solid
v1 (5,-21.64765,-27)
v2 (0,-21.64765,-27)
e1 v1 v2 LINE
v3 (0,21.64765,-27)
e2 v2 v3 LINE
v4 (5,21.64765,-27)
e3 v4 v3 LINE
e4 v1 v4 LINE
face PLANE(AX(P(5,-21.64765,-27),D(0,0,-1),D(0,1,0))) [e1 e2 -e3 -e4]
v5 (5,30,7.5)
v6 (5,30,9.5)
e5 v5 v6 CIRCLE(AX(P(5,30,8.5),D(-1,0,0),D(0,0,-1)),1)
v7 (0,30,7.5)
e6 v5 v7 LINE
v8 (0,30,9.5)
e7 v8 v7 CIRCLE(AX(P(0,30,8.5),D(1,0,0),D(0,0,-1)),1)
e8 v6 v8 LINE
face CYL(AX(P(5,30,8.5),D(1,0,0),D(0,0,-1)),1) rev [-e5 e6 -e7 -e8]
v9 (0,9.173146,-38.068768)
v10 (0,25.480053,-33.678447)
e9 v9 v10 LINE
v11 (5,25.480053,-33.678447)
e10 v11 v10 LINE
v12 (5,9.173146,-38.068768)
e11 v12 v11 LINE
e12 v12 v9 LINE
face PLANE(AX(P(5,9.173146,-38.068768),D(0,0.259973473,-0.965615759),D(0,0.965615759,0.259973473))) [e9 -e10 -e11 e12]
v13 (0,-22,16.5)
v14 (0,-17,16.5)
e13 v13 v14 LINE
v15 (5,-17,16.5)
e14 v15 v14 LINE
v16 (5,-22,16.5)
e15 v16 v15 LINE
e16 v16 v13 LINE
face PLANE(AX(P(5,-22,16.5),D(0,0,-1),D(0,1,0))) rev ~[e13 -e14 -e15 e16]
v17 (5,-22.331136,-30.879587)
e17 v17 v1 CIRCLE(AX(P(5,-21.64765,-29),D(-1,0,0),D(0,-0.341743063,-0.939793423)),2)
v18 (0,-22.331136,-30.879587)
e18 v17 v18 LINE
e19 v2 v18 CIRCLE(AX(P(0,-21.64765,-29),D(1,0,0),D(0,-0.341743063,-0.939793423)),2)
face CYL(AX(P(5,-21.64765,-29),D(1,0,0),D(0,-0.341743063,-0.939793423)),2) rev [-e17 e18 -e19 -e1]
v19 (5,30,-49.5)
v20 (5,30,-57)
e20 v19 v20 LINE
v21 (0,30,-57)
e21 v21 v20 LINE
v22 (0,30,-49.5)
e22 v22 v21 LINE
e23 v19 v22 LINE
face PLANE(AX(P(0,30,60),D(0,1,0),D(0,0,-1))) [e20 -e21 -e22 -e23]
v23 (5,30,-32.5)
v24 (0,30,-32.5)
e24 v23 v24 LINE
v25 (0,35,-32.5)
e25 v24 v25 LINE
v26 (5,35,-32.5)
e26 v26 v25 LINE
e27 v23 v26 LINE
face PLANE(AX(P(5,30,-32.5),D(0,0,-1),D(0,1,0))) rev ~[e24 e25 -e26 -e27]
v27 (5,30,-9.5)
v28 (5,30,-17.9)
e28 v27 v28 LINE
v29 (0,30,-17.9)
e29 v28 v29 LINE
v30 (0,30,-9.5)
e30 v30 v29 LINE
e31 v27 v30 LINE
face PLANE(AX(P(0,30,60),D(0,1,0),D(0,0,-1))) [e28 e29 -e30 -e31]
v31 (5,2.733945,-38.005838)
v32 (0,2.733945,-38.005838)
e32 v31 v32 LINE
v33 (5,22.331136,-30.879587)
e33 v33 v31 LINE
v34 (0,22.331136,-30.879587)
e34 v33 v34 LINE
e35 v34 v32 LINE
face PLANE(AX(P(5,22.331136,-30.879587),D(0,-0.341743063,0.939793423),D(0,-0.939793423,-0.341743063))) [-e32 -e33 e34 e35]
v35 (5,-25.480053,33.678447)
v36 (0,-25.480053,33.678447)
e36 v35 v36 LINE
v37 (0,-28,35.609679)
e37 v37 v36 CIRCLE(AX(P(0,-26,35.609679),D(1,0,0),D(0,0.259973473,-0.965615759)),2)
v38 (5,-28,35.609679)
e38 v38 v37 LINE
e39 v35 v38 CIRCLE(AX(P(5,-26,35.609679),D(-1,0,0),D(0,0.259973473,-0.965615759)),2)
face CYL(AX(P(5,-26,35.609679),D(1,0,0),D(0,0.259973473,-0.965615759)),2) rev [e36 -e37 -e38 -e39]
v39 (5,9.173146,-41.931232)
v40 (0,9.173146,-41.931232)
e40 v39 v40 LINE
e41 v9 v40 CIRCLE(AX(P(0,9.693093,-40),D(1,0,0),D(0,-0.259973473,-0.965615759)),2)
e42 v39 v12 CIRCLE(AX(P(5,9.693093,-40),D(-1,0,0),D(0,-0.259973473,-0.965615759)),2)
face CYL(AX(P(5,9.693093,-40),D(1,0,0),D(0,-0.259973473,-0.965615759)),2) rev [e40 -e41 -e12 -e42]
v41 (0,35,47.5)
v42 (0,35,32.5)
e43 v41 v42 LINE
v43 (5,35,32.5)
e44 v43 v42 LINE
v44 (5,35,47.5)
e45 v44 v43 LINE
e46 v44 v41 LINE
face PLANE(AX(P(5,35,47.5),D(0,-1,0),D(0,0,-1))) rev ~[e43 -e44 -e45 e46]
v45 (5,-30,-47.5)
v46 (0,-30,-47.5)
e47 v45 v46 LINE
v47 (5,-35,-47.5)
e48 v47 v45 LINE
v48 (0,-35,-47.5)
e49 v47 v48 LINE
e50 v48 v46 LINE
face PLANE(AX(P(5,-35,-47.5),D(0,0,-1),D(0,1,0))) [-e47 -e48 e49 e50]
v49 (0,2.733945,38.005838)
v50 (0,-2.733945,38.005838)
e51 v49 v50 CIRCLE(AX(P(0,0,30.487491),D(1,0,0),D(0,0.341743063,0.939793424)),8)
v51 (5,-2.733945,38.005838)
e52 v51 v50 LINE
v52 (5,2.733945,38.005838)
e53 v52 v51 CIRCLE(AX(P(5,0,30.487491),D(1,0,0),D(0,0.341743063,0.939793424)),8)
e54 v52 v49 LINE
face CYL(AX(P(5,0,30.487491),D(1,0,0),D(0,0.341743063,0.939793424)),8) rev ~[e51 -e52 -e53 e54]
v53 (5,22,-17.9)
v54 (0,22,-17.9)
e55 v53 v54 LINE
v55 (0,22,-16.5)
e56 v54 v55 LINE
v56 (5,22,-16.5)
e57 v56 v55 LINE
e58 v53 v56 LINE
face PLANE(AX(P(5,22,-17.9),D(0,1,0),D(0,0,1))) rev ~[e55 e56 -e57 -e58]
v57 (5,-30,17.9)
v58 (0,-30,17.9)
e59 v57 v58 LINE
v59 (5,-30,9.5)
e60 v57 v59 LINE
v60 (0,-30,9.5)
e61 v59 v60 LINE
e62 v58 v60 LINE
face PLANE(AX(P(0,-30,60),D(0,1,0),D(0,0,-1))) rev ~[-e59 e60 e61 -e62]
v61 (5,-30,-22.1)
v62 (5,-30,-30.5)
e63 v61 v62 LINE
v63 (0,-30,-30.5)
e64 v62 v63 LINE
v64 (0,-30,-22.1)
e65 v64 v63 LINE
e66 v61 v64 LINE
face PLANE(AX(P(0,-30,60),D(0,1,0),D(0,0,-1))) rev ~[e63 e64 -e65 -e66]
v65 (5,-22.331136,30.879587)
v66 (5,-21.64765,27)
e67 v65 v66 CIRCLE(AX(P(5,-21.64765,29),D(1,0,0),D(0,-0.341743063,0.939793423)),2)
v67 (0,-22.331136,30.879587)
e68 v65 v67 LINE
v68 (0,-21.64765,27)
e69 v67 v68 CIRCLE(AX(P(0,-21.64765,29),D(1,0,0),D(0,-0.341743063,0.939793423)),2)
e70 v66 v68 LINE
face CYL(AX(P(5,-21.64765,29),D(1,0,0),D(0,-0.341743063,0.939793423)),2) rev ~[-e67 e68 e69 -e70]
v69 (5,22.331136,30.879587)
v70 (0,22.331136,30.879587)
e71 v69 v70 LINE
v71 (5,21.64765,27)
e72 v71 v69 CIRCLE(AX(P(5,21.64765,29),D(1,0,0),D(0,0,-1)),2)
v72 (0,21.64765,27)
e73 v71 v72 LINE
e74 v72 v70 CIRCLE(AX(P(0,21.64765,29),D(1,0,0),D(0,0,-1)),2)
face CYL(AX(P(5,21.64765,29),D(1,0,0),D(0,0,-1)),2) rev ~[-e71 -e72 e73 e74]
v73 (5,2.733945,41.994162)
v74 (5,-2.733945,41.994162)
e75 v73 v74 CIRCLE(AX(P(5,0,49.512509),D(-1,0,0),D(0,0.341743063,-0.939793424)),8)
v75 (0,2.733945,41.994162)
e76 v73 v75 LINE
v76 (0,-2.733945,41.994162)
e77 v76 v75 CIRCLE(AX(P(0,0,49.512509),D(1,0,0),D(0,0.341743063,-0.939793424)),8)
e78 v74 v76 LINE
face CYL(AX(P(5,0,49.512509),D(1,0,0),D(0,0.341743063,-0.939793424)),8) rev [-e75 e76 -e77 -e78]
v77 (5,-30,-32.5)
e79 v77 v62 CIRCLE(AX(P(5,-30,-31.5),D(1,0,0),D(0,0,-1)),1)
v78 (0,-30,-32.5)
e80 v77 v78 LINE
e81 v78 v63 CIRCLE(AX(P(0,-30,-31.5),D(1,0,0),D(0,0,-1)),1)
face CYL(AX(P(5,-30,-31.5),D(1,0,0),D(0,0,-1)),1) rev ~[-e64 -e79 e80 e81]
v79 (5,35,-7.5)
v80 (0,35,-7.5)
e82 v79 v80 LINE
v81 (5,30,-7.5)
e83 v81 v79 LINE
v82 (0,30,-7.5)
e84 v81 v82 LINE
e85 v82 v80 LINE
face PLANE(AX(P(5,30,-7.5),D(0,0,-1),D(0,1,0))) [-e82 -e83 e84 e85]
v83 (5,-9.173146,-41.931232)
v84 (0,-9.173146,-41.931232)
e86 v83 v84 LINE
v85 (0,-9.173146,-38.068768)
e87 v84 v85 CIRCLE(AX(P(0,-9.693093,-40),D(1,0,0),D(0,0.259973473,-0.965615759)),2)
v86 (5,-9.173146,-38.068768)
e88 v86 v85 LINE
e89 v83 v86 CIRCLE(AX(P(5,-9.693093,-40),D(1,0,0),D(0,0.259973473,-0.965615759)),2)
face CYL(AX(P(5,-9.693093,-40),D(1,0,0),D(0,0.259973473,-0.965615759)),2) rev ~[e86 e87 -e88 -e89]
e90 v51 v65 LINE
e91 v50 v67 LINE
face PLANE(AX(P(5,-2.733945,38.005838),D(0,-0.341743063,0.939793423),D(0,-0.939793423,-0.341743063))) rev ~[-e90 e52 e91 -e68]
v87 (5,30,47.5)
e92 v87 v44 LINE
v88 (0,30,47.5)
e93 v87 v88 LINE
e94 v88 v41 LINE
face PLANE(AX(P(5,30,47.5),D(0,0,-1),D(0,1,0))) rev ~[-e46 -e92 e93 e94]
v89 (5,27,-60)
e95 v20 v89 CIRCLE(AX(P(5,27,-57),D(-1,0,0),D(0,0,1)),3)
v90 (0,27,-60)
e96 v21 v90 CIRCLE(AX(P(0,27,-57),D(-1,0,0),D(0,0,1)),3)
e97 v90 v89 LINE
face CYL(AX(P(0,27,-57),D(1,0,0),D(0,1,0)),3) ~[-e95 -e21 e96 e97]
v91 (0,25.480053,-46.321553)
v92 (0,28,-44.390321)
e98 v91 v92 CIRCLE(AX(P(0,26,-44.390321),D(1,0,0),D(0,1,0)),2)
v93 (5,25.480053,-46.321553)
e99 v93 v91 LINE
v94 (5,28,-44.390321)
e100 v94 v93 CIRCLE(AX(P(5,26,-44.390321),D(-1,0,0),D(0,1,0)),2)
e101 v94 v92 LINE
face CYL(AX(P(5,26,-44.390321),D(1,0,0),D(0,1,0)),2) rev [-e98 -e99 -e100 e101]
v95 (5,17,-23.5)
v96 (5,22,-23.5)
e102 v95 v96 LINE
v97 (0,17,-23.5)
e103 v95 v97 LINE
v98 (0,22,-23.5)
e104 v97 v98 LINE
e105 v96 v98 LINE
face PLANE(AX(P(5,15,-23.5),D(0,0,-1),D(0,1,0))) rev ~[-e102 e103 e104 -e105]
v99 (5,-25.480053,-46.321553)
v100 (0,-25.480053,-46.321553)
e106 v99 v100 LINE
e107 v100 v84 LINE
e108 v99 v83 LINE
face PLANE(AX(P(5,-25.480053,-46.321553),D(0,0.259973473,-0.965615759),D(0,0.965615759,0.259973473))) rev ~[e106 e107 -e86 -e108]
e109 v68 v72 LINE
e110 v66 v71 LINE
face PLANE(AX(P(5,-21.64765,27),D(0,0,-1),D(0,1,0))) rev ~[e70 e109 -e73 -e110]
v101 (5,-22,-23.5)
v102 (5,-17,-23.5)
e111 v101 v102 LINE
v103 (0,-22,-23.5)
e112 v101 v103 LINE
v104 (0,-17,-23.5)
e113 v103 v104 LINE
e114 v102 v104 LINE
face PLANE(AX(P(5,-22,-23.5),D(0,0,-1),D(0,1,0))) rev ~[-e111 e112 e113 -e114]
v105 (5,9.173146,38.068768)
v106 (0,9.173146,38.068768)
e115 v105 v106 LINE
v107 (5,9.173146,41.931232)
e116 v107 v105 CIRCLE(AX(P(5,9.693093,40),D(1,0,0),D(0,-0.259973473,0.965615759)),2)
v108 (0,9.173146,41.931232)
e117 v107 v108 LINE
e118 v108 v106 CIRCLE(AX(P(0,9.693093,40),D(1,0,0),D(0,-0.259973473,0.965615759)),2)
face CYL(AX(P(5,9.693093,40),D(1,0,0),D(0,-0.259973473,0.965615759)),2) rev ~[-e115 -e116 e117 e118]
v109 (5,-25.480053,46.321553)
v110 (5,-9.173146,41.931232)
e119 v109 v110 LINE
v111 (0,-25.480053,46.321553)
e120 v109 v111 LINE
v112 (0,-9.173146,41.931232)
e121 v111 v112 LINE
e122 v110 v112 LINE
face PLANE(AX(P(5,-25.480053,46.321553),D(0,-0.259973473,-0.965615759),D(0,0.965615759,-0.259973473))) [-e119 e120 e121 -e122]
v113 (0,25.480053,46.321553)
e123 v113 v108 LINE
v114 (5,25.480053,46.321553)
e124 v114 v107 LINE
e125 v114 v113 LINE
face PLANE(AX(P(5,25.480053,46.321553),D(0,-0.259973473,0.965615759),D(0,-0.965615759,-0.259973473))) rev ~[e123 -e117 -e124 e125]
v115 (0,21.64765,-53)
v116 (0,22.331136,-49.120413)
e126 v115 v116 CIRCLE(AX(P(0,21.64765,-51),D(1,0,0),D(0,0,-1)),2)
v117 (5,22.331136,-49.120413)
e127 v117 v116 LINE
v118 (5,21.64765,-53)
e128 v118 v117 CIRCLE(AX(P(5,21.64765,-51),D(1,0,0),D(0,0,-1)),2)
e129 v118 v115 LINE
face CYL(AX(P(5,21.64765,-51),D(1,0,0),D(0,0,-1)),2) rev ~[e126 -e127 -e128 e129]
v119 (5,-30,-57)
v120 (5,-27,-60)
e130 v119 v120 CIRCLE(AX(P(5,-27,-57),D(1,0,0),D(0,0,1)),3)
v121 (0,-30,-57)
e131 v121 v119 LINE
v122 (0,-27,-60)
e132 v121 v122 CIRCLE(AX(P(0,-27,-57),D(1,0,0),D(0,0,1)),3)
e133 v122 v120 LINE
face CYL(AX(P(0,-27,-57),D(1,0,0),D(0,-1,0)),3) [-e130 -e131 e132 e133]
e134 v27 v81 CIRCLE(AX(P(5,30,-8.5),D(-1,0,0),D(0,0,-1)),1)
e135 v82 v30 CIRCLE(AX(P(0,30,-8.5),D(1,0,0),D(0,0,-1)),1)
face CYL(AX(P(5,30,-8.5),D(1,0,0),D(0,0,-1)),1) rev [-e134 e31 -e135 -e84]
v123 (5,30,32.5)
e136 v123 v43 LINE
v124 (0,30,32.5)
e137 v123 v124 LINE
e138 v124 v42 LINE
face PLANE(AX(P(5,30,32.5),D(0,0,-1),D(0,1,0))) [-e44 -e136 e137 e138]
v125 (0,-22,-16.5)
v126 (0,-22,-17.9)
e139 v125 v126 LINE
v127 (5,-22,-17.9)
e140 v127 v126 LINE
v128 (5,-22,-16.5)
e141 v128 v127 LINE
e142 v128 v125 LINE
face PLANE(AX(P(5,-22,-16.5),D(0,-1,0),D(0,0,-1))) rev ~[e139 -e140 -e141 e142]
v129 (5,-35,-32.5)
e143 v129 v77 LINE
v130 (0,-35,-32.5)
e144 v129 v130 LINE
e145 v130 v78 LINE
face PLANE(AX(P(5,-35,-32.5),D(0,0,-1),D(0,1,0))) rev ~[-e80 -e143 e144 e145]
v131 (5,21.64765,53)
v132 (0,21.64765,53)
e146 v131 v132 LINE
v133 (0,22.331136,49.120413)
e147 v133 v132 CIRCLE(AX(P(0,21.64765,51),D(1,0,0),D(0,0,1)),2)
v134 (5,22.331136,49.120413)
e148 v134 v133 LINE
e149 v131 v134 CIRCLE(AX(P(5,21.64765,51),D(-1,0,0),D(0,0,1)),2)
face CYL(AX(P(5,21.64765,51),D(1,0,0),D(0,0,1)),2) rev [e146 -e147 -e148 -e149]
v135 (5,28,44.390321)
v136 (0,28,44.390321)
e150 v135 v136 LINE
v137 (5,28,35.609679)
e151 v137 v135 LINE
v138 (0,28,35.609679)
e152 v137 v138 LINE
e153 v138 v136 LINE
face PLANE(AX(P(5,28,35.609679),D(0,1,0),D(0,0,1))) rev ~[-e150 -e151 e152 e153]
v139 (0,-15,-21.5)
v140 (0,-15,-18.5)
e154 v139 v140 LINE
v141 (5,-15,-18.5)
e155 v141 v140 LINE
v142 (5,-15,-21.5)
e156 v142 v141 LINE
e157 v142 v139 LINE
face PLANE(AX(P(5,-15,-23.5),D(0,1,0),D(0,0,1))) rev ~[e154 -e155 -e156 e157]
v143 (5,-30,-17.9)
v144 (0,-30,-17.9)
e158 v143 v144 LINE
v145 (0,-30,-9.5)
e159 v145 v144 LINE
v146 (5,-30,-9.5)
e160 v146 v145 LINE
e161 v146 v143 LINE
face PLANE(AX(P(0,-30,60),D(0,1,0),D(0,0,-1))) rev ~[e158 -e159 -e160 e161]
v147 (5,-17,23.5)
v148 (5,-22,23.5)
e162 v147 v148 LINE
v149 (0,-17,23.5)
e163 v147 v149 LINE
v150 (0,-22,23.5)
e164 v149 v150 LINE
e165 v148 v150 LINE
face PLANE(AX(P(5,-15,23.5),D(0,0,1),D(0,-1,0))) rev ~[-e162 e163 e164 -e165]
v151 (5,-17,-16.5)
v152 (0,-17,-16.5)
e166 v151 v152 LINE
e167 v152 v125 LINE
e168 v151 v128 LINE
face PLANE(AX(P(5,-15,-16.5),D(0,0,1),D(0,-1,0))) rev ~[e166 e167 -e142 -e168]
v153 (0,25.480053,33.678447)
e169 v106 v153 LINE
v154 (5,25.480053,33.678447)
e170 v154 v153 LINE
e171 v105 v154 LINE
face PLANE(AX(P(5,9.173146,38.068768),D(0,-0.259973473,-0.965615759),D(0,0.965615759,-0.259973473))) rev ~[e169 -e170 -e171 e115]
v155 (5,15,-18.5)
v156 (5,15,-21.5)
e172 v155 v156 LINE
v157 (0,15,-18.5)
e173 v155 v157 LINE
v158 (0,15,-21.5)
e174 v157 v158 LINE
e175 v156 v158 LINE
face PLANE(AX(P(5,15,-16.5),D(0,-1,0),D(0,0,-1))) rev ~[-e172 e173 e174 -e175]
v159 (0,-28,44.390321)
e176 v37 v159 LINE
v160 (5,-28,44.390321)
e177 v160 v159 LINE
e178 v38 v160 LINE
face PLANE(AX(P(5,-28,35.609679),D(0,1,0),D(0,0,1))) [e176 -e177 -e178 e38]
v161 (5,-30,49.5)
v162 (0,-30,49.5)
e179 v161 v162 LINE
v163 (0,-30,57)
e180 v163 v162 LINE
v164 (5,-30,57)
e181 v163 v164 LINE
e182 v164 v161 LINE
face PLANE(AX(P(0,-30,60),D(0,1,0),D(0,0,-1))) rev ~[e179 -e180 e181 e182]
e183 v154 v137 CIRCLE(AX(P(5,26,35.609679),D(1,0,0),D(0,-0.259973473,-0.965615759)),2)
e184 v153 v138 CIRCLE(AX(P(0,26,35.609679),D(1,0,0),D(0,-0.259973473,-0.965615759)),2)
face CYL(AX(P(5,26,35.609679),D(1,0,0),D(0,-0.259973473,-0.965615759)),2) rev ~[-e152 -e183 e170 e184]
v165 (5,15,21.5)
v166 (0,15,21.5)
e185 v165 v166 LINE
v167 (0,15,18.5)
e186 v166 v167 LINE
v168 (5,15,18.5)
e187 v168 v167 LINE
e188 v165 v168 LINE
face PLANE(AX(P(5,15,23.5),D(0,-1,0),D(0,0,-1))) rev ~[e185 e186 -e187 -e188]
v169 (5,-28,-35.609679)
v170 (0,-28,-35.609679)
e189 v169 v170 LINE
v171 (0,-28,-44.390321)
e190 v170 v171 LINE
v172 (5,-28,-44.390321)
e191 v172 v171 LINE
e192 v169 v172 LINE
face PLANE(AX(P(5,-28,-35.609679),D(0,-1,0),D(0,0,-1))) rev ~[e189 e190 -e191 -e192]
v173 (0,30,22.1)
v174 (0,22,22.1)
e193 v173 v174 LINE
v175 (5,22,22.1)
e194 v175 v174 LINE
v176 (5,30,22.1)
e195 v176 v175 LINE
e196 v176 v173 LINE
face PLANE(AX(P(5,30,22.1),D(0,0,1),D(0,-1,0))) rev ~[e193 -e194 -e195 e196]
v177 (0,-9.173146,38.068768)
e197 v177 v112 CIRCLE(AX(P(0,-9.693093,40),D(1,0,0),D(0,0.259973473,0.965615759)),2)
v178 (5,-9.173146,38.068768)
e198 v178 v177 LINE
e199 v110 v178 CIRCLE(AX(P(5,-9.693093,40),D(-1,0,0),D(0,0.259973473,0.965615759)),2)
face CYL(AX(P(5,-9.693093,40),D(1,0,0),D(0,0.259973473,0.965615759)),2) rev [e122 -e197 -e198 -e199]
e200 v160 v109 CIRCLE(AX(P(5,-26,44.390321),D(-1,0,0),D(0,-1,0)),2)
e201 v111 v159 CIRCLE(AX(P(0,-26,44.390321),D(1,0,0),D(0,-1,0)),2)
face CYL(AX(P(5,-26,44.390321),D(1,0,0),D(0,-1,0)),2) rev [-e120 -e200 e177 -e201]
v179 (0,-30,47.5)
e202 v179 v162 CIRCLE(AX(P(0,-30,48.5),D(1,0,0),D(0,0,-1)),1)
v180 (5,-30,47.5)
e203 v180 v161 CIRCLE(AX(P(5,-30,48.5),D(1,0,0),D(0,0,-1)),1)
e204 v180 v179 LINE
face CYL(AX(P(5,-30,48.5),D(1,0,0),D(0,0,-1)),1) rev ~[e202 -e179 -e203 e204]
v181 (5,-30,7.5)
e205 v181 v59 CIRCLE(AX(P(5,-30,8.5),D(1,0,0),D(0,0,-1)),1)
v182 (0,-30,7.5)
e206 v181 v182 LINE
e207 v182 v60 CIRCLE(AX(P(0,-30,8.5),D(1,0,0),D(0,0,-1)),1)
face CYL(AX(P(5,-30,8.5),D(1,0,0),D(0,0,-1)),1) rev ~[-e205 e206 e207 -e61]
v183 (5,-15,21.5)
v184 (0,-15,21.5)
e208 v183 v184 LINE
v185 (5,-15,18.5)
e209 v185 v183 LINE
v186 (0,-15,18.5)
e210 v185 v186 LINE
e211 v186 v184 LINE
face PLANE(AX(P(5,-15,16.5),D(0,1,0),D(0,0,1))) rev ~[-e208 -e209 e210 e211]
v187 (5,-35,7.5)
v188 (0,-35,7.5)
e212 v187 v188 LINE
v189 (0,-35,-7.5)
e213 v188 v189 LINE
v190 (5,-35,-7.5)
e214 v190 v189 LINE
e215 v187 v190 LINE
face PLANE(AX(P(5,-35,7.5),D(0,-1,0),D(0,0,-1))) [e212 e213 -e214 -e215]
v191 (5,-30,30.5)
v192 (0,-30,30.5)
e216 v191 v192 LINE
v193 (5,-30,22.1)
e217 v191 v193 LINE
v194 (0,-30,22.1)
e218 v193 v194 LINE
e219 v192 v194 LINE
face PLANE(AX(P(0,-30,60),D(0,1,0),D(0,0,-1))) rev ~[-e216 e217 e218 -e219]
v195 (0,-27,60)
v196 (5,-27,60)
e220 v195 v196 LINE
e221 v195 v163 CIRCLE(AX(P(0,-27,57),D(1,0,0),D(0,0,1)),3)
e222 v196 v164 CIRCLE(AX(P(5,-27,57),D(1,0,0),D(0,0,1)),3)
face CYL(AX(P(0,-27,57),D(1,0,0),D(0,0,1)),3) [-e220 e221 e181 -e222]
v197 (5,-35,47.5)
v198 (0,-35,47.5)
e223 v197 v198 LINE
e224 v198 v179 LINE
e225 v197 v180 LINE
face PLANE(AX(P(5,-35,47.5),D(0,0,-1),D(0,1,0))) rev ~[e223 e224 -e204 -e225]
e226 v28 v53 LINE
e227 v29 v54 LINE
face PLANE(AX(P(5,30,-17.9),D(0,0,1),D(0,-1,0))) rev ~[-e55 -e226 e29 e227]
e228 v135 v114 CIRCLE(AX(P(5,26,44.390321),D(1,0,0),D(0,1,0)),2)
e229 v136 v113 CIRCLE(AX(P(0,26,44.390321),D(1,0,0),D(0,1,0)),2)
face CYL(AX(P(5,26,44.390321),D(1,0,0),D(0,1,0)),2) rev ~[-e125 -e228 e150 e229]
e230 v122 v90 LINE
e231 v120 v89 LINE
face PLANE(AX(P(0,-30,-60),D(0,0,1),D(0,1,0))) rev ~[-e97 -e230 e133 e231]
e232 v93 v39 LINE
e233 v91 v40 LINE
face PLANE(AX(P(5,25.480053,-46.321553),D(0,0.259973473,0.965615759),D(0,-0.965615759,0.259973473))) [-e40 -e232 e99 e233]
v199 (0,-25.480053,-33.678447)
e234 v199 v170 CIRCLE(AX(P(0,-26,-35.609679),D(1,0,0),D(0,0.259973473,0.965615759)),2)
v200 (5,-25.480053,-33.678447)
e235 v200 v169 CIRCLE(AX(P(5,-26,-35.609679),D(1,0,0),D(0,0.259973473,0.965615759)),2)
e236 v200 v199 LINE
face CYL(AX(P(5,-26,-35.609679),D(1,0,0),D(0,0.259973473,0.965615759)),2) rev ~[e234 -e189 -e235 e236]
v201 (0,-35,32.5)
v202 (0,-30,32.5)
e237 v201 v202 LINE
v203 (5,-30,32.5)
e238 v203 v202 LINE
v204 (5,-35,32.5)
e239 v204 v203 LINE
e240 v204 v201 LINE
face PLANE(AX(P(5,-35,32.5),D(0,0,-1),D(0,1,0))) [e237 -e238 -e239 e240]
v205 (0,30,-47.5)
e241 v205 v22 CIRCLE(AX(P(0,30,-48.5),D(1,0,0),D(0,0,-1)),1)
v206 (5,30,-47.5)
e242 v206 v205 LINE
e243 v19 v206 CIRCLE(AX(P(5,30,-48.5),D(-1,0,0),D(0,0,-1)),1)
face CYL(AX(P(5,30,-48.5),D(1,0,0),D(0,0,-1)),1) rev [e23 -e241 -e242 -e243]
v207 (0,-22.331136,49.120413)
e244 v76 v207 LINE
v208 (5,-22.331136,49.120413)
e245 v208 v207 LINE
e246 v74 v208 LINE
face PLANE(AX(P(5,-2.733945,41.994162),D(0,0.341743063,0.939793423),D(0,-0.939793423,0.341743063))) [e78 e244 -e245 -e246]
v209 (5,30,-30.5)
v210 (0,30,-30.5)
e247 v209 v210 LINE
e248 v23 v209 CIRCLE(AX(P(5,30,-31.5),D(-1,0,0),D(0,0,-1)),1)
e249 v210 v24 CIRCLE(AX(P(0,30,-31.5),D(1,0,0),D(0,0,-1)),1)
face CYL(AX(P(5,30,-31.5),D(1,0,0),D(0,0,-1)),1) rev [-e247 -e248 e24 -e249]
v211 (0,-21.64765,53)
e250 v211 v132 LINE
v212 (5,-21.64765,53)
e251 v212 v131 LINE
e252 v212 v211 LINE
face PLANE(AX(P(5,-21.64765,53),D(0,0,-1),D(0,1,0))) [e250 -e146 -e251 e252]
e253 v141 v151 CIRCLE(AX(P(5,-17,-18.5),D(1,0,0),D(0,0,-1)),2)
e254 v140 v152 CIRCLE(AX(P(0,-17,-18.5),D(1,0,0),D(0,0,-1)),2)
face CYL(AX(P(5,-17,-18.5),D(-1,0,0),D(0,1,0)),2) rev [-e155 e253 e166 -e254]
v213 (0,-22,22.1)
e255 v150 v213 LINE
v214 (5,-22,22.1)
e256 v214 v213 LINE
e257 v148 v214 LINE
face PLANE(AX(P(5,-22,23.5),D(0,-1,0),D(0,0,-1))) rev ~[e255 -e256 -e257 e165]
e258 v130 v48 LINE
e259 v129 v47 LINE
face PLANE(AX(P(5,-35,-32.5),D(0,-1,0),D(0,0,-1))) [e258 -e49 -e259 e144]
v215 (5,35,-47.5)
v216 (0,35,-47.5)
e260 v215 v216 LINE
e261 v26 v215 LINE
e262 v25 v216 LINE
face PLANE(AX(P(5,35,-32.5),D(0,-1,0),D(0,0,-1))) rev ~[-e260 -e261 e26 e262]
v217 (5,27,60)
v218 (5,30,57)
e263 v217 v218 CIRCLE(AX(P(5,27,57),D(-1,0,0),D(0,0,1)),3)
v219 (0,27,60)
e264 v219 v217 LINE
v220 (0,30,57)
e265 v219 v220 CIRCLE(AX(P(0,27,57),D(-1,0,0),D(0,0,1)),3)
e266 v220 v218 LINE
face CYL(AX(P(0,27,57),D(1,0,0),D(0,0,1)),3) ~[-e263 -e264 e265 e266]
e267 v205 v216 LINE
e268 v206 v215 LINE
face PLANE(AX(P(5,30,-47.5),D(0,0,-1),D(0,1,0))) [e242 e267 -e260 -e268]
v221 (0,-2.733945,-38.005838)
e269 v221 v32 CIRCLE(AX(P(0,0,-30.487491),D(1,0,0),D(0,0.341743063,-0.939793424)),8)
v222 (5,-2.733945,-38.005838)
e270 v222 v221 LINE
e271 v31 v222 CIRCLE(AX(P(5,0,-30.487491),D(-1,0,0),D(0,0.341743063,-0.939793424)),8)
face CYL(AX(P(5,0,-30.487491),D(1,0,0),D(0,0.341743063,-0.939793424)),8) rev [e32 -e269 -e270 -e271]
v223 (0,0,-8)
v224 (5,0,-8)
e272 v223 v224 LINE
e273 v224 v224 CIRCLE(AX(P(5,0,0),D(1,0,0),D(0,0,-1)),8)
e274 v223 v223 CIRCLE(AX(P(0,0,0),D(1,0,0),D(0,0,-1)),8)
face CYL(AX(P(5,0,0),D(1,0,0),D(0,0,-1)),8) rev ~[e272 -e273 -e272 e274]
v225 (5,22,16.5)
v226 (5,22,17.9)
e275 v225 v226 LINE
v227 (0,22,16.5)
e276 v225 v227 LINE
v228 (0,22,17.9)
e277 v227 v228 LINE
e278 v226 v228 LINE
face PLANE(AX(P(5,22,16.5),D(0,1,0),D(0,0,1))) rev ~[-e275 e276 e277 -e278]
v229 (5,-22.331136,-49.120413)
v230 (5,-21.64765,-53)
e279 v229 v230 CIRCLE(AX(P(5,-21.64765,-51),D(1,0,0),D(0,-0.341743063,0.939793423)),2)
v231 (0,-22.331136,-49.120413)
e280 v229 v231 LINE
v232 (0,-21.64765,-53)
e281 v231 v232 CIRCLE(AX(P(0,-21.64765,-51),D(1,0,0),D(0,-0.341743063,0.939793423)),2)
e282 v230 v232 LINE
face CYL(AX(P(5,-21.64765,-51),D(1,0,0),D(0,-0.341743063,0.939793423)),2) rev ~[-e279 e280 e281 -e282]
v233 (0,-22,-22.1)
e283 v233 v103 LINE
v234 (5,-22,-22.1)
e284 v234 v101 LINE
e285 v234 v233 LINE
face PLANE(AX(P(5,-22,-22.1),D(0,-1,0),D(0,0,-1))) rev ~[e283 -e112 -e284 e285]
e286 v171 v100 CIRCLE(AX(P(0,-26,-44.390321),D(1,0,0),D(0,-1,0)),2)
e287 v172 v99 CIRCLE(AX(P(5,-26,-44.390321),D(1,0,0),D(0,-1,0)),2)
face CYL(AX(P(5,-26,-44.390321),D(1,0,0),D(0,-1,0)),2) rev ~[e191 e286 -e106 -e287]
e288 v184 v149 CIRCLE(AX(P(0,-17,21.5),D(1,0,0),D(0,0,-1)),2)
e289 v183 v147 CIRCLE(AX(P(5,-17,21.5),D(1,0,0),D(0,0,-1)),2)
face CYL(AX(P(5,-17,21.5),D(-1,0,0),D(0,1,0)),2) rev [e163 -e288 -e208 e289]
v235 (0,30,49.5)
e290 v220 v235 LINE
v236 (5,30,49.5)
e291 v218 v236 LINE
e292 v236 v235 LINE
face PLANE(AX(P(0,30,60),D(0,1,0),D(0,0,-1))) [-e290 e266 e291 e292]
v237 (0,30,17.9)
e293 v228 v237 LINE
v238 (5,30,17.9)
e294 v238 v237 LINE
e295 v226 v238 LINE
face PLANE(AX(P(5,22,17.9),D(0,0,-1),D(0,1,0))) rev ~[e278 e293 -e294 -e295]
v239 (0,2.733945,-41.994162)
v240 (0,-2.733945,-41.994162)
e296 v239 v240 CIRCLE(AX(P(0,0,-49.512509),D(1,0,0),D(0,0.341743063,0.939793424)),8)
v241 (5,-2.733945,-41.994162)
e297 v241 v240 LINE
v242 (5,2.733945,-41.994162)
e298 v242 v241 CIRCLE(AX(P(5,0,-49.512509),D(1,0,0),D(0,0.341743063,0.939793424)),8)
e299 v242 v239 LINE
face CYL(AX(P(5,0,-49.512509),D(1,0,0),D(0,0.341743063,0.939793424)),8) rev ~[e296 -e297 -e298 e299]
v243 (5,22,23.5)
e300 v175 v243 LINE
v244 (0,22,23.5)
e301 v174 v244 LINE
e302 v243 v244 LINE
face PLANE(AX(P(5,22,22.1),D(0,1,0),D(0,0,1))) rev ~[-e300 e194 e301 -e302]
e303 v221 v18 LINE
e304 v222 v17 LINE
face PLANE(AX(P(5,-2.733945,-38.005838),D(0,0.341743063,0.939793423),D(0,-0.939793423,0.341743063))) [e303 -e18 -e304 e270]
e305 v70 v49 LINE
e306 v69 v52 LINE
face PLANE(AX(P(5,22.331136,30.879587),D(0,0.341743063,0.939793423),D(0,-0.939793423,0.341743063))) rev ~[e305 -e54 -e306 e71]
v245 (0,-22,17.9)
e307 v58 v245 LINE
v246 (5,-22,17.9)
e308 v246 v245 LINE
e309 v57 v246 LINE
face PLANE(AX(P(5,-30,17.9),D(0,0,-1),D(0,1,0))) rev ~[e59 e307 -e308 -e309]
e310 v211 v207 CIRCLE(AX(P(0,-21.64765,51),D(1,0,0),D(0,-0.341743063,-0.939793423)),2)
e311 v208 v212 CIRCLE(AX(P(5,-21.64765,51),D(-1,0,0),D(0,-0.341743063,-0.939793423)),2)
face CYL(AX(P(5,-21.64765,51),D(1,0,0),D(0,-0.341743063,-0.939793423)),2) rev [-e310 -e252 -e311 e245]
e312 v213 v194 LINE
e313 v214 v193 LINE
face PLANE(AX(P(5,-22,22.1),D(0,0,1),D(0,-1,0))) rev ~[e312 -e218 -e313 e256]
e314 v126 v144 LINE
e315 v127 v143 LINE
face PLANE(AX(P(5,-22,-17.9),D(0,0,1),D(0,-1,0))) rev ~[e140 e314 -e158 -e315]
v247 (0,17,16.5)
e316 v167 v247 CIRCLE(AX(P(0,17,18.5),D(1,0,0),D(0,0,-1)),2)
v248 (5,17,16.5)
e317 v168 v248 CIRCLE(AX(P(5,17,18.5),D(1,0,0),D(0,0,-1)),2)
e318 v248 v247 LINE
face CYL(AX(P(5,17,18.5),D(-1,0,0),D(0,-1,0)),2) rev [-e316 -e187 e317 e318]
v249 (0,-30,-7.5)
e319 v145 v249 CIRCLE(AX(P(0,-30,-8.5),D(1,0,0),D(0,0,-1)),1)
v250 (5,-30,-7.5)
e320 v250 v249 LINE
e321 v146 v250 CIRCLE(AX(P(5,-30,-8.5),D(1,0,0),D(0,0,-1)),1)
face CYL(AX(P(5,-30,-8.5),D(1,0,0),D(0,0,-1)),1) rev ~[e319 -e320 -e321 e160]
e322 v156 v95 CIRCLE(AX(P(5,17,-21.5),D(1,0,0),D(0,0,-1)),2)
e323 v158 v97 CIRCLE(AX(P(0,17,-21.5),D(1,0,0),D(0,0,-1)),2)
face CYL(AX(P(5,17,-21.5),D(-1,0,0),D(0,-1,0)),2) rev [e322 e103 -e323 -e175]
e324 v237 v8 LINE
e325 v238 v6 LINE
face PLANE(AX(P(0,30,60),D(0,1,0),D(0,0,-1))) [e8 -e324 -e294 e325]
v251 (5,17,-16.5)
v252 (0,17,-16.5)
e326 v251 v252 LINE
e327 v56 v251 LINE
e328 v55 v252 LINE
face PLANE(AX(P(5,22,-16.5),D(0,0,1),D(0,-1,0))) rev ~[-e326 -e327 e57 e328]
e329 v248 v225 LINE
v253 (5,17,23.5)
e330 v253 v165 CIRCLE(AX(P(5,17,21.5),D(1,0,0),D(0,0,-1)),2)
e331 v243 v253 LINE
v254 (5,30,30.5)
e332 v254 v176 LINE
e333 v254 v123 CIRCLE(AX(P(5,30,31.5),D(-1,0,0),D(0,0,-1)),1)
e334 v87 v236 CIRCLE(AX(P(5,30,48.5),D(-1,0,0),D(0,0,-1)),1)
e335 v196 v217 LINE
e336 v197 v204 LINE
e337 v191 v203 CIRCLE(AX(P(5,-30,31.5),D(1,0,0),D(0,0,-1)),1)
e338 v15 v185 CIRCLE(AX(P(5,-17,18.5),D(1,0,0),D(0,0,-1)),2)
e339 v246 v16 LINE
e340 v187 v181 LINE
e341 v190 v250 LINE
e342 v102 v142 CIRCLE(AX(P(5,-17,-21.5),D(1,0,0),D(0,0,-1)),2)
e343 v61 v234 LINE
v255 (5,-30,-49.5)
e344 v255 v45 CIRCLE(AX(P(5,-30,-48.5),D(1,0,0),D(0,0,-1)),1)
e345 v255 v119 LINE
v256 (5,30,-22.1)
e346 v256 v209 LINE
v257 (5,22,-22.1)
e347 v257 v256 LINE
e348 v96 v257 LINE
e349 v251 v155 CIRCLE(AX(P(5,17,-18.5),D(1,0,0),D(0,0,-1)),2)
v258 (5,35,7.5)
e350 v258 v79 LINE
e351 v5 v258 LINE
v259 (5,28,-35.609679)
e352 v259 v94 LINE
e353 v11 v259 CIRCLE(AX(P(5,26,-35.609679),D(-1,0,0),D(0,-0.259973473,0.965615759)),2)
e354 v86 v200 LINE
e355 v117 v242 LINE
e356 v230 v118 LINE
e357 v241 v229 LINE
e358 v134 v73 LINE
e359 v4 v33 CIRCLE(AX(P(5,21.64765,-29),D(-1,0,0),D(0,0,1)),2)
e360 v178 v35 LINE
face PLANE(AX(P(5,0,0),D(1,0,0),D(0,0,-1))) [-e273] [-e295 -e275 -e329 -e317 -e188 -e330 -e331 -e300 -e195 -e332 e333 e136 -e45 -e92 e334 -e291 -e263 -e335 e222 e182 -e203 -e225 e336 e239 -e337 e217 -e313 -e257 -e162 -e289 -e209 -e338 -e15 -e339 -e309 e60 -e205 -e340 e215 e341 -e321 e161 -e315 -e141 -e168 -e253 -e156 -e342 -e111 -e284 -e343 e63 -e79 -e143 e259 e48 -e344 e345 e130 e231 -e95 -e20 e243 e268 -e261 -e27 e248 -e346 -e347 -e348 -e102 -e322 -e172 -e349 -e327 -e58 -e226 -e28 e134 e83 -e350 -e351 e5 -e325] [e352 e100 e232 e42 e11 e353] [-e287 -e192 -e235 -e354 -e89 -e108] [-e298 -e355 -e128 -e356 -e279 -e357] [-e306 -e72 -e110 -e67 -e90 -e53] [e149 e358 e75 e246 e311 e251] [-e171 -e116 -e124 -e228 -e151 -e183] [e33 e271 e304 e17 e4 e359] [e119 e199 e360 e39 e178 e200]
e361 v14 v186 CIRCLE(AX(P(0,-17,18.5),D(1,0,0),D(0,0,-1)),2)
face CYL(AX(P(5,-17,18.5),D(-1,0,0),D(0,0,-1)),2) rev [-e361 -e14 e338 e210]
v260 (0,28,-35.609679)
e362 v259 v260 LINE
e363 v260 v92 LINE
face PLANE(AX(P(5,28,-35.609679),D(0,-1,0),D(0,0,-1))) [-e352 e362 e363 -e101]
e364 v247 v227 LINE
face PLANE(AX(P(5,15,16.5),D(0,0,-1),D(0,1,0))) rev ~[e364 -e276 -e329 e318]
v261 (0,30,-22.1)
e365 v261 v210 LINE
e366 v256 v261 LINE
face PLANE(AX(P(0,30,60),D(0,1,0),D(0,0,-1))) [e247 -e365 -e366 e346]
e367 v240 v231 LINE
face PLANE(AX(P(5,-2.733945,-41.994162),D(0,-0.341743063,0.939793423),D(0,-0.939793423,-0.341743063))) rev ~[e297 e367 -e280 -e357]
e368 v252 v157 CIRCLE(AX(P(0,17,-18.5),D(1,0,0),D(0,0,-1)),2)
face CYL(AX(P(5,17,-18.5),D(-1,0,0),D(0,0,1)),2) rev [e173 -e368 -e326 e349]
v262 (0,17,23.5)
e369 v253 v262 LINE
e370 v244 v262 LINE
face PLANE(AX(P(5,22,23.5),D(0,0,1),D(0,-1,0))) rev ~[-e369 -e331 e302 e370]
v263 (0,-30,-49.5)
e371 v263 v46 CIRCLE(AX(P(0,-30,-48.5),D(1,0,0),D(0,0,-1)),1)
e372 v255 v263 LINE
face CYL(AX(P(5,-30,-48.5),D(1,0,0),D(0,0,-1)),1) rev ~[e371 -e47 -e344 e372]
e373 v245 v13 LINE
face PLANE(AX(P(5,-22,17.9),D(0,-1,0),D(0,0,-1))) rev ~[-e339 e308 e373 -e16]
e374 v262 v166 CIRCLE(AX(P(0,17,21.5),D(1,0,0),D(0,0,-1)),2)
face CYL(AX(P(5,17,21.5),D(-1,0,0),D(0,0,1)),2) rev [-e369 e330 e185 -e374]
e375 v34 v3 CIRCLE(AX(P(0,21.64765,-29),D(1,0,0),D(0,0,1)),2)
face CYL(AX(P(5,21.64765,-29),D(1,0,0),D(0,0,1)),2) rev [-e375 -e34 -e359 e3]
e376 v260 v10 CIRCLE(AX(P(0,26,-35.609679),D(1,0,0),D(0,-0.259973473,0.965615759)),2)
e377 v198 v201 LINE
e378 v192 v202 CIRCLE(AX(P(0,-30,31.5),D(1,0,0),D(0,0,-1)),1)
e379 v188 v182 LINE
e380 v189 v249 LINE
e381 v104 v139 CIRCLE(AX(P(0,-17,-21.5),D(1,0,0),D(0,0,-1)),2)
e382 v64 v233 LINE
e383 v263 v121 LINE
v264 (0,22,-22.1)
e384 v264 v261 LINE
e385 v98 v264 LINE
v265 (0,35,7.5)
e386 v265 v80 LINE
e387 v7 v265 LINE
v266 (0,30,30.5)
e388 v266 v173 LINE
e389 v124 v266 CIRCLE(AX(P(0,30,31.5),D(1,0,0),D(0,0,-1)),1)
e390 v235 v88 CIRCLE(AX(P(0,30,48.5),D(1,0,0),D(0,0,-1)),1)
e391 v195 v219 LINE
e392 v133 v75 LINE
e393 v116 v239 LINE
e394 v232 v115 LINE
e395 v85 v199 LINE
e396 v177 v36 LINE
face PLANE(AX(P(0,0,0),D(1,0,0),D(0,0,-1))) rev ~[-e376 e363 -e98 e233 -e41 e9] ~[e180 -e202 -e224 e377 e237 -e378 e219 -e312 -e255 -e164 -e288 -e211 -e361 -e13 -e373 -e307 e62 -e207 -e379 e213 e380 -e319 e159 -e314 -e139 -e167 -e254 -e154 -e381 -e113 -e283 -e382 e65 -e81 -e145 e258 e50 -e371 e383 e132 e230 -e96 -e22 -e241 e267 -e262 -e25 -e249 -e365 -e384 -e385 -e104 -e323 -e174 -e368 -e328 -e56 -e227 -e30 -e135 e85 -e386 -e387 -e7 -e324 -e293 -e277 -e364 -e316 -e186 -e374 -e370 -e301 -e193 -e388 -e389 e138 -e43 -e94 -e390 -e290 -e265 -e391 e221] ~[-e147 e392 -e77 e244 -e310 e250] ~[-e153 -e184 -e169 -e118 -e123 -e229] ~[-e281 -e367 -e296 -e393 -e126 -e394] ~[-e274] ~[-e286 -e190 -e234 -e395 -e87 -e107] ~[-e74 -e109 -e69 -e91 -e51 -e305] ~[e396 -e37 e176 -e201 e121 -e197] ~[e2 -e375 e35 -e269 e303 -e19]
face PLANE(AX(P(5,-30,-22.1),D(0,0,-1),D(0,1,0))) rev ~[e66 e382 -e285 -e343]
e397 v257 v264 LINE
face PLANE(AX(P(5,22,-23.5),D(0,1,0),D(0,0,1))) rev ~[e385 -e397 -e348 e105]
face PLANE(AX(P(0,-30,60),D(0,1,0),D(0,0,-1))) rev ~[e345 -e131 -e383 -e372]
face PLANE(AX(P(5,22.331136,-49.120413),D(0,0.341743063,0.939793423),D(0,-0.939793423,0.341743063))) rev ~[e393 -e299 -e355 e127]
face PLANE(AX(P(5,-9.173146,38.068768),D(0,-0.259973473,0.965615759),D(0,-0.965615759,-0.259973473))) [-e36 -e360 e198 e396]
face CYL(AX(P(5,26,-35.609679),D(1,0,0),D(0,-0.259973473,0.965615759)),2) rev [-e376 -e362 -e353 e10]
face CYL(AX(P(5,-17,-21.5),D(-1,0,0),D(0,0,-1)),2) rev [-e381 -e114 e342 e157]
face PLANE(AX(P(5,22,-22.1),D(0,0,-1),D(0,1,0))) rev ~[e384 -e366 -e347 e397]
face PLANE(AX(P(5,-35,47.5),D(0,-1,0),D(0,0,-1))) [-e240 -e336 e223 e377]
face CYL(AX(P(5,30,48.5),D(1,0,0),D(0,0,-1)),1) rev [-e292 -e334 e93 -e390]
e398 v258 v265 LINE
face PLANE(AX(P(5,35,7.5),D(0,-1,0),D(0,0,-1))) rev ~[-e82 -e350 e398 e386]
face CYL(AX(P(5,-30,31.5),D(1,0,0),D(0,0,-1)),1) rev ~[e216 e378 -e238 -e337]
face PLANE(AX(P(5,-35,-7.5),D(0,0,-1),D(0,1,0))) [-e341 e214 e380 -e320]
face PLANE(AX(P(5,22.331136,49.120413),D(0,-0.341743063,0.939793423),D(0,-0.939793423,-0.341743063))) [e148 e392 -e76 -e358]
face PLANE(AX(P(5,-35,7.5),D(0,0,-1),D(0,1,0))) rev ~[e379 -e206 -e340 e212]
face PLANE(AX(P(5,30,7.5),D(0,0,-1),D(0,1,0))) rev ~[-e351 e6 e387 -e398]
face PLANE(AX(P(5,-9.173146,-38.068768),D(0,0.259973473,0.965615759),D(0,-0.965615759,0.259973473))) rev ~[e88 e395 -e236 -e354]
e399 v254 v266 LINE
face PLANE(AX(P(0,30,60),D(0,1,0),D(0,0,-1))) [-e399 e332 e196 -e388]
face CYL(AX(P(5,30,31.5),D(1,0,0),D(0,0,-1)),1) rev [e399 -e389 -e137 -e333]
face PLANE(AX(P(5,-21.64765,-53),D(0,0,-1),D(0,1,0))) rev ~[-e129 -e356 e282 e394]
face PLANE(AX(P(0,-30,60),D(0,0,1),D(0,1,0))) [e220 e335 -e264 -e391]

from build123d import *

# Parameters (mm, degrees)
SKETCH_1_W          = 120
SKETCH_1_H          = 60
EXTRUDE_1_DEPTH     = 5
SKETCH_2_R          = 8
CUT_EXTRUDE_1_DEPTH = 5
SKETCH_3_W          = 15
SKETCH_3_H          = 5
EXTRUDE_2_DEPTH     = 5
CUT_EXTRUDE_2_DEPTH = 5
CUT_EXTRUDE_3_DEPTH = 10
FILLET_1_R          = 3
CUT_EXTRUDE_4_DEPTH = 10
FILLET_2_R          = 2


with BuildPart() as part:
    # 草图1 → 凸台-拉伸1 (new body)
    with BuildSketch(Plane(origin=(0, 0, 0), x_dir=(0, 0, -1), z_dir=(1, 0, 0))):
        Rectangle(SKETCH_1_W, SKETCH_1_H)
    extrude(amount=EXTRUDE_1_DEPTH)

    # 草图2 → 切除-拉伸1 (cut, symmetric)
    with BuildSketch(Plane(origin=(5, 0, 0), x_dir=(0, 0, -1), z_dir=(1, 0, 0))):
        Circle(SKETCH_2_R)
    extrude(amount=CUT_EXTRUDE_1_DEPTH, both=True, mode=Mode.SUBTRACT)

    # 草图3 → 凸台-拉伸2 (add)
    with BuildSketch(Plane(origin=(5, 0, 0), x_dir=(0, 0, -1), z_dir=(1, 0, 0))):
        with Locations((0, 32.5)):
            Rectangle(SKETCH_3_W, SKETCH_3_H)
        with Locations((-40, 32.5)):
            Rectangle(SKETCH_3_W, SKETCH_3_H)
        with Locations((40, 32.5)):
            Rectangle(SKETCH_3_W, SKETCH_3_H)
        with Locations((40, -32.5)):
            Rectangle(SKETCH_3_W, SKETCH_3_H)
        with Locations((-40, -32.5)):
            Rectangle(SKETCH_3_W, SKETCH_3_H)
        with Locations((0, -32.5)):
            Rectangle(SKETCH_3_W, SKETCH_3_H)
    extrude(amount=-EXTRUDE_2_DEPTH)

    # 草图4 → 切除-拉伸2 (cut)
    with BuildSketch(Plane(origin=(5, 0, 0), x_dir=(0, 0, -1), z_dir=(1, 0, 0))):
        Polygon((-22.1, 30), (-22.1, 22), (-23.5, 22), (-23.5, 15), (-16.5, 15), (-16.5, 22), (-17.9, 22), (-17.9, 30), align=None)
        Polygon((17.9, 30), (17.9, 22), (16.5, 22), (16.5, 15), (23.5, 15), (23.5, 22), (22.1, 22), (22.1, 30), align=None)
        Polygon((22.1, -30), (22.1, -22), (23.5, -22), (23.5, -15), (16.5, -15), (16.5, -22), (17.9, -22), (17.9, -30), align=None)
        Polygon((-17.9, -30), (-17.9, -22), (-16.5, -22), (-16.5, -15), (-23.5, -15), (-23.5, -22), (-22.1, -22), (-22.1, -30), align=None)
    extrude(amount=-CUT_EXTRUDE_2_DEPTH, mode=Mode.SUBTRACT)

    # 草图5 → 切除-拉伸3 (cut)
    with BuildSketch(Plane(origin=(5, 0, 0), x_dir=(0, 0, -1), z_dir=(1, 0, 0))):
        with BuildLine():
            Line((-46.321552745, 25.480053053), (-41.931231517, 9.173145635))
            ThreePointArc((-41.931231517, 9.173145635), (-40, 7.693092582), (-38.068768483, 9.173145635))
            Line((-38.068768483, 9.173145635), (-33.678447255, 25.480053053))
            ThreePointArc((-33.678447255, 25.480053053), (-34.022244696, 27.216574311), (-35.609678772, 28))
            Line((-35.609678772, 28), (-44.390321228, 28))
            ThreePointArc((-44.390321228, 28), (-45.977755304, 27.216574311), (-46.321552745, 25.480053053))
        make_face()
        with BuildLine():
            Line((-49.120413153, 22.331136171), (-41.994161638, 2.733944505))
            ThreePointArc((-41.994161638, 2.733944505), (-41.512509026, 0), (-41.994161638, -2.733944505))
            Line((-41.994161638, -2.733944505), (-49.120413153, -22.331136171))
            ThreePointArc((-49.120413153, -22.331136171), (-51.347005984, -23.617316729), (-53, -21.647650045))
            Line((-53, -21.647650045), (-53, 21.647650045))
            ThreePointArc((-53, 21.647650045), (-51.347005984, 23.617316729), (-49.120413153, 22.331136171))
        make_face()
        with BuildLine():
            Line((-38.068768483, -9.173145635), (-33.678447255, -25.480053053))
            ThreePointArc((-33.678447255, -25.480053053), (-34.022244696, -27.216574311), (-35.609678772, -28))
            Line((-35.609678772, -28), (-44.390321228, -28))
            ThreePointArc((-44.390321228, -28), (-45.977755304, -27.216574311), (-46.321552745, -25.480053053))
            Line((-46.321552745, -25.480053053), (-41.931231517, -9.173145635))
            ThreePointArc((-41.931231517, -9.173145635), (-40, -7.693092582), (-38.068768483, -9.173145635))
        make_face()
        with BuildLine():
            Line((-38.005838362, -2.733944505), (-30.879586847, -22.331136171))
            ThreePointArc((-30.879586847, -22.331136171), (-28.652994016, -23.617316729), (-27, -21.647650045))
            Line((-27, -21.647650045), (-27, 21.647650045))
            ThreePointArc((-27, 21.647650045), (-28.652994016, 23.617316729), (-30.879586847, 22.331136171))
            Line((-30.879586847, 22.331136171), (-38.005838362, 2.733944505))
            ThreePointArc((-38.005838362, 2.733944505), (-38.487490974, 0), (-38.005838362, -2.733944505))
        make_face()
        with BuildLine():
            Line((27, -21.647650045), (27, 21.647650045))
            ThreePointArc((27, 21.647650045), (28.652994016, 23.617316729), (30.879586847, 22.331136171))
            Line((30.879586847, 22.331136171), (38.005838362, 2.733944505))
            ThreePointArc((38.005838362, 2.733944505), (38.487490974, 0), (38.005838362, -2.733944505))
            Line((38.005838362, -2.733944505), (30.879586847, -22.331136171))
            ThreePointArc((30.879586847, -22.331136171), (28.652994016, -23.617316729), (27, -21.647650045))
        make_face()
        with BuildLine():
            Line((35.609678772, -28), (44.390321228, -28))
            ThreePointArc((44.390321228, -28), (45.977755304, -27.216574311), (46.321552745, -25.480053053))
            Line((46.321552745, -25.480053053), (41.931231517, -9.173145635))
            ThreePointArc((41.931231517, -9.173145635), (40, -7.693092582), (38.068768483, -9.173145635))
            Line((38.068768483, -9.173145635), (33.678447255, -25.480053053))
            ThreePointArc((33.678447255, -25.480053053), (34.022244696, -27.216574311), (35.609678772, -28))
        make_face()
        with BuildLine():
            Line((53, -21.647650045), (53, 21.647650045))
            ThreePointArc((53, 21.647650045), (51.347005984, 23.617316729), (49.120413153, 22.331136171))
            Line((49.120413153, 22.331136171), (41.994161638, 2.733944505))
            ThreePointArc((41.994161638, 2.733944505), (41.512509026, 0), (41.994161638, -2.733944505))
            Line((41.994161638, -2.733944505), (49.120413153, -22.331136171))
            ThreePointArc((49.120413153, -22.331136171), (51.347005984, -23.617316729), (53, -21.647650045))
        make_face()
        with BuildLine():
            Line((35.609678772, 28), (44.390321228, 28))
            ThreePointArc((44.390321228, 28), (45.977755304, 27.216574311), (46.321552745, 25.480053053))
            Line((46.321552745, 25.480053053), (41.931231517, 9.173145635))
            ThreePointArc((41.931231517, 9.173145635), (40, 7.693092582), (38.068768483, 9.173145635))
            Line((38.068768483, 9.173145635), (33.678447255, 25.480053053))
            ThreePointArc((33.678447255, 25.480053053), (34.022244696, 27.216574311), (35.609678772, 28))
        make_face()
    extrude(amount=-CUT_EXTRUDE_3_DEPTH, mode=Mode.SUBTRACT)

    # 圆角1
    fillet_1_edges = [part.edges().sort_by_distance(p)[0] for p in [
        (2.5, 30, 60),
        (2.5, 30, -60),
        (2.5, -30, -60),
        (2.5, -30, 60),
    ]]
    fillet(fillet_1_edges, radius=FILLET_1_R)

    # 草图6 → 切除-拉伸4 (cut)
    with BuildSketch(Plane(origin=(5, 0, 0), x_dir=(0, 0, -1), z_dir=(1, 0, 0))):
        with BuildLine():
            Line((-49.5, 30), (-47.5, 30))
            ThreePointArc((-47.5, 30), (-48.5, 29), (-49.5, 30))
        make_face()
        with BuildLine():
            Line((-32.5, 30), (-30.5, 30))
            ThreePointArc((-30.5, 30), (-31.5, 29), (-32.5, 30))
        make_face()
        with BuildLine():
            Line((-9.5, 30), (-7.5, 30))
            ThreePointArc((-7.5, 30), (-8.5, 29), (-9.5, 30))
        make_face()
        with BuildLine():
            Line((7.5, 30), (9.5, 30))
            ThreePointArc((9.5, 30), (8.5, 29), (7.5, 30))
        make_face()
        with BuildLine():
            Line((30.5, 30), (32.5, 30))
            ThreePointArc((32.5, 30), (31.5, 29), (30.5, 30))
        make_face()
        with BuildLine():
            Line((47.5, 30), (49.5, 30))
            ThreePointArc((49.5, 30), (48.5, 29), (47.5, 30))
        make_face()
        with BuildLine():
            Line((47.5, -30), (49.5, -30))
            ThreePointArc((49.5, -30), (48.5, -29), (47.5, -30))
        make_face()
        with BuildLine():
            Line((30.5, -30), (32.5, -30))
            ThreePointArc((32.5, -30), (31.5, -29), (30.5, -30))
        make_face()
        with BuildLine():
            Line((7.5, -30), (9.5, -30))
            ThreePointArc((9.5, -30), (8.5, -29), (7.5, -30))
        make_face()
        with BuildLine():
            Line((-9.5, -30), (-7.5, -30))
            ThreePointArc((-7.5, -30), (-8.5, -29), (-9.5, -30))
        make_face()
        with BuildLine():
            Line((-32.5, -30), (-30.5, -30))
            ThreePointArc((-30.5, -30), (-31.5, -29), (-32.5, -30))
        make_face()
        with BuildLine():
            Line((-49.5, -30), (-47.5, -30))
            ThreePointArc((-47.5, -30), (-48.5, -29), (-49.5, -30))
        make_face()
    extrude(amount=-CUT_EXTRUDE_4_DEPTH, mode=Mode.SUBTRACT)

    # 圆角2
    fillet_2_edges = [part.edges().sort_by_distance(p)[0] for p in [
        (2.5, -15, 23.5),
        (2.5, -15, 16.5),
        (2.5, -15, -16.5),
        (2.5, -15, -23.5),
        (2.5, 15, -23.5),
        (2.5, 15, -16.5),
        (2.5, 15, 16.5),
        (2.5, 15, 23.5),
    ]]
    fillet(fillet_2_edges, radius=FILLET_2_R)


solid = part.part
